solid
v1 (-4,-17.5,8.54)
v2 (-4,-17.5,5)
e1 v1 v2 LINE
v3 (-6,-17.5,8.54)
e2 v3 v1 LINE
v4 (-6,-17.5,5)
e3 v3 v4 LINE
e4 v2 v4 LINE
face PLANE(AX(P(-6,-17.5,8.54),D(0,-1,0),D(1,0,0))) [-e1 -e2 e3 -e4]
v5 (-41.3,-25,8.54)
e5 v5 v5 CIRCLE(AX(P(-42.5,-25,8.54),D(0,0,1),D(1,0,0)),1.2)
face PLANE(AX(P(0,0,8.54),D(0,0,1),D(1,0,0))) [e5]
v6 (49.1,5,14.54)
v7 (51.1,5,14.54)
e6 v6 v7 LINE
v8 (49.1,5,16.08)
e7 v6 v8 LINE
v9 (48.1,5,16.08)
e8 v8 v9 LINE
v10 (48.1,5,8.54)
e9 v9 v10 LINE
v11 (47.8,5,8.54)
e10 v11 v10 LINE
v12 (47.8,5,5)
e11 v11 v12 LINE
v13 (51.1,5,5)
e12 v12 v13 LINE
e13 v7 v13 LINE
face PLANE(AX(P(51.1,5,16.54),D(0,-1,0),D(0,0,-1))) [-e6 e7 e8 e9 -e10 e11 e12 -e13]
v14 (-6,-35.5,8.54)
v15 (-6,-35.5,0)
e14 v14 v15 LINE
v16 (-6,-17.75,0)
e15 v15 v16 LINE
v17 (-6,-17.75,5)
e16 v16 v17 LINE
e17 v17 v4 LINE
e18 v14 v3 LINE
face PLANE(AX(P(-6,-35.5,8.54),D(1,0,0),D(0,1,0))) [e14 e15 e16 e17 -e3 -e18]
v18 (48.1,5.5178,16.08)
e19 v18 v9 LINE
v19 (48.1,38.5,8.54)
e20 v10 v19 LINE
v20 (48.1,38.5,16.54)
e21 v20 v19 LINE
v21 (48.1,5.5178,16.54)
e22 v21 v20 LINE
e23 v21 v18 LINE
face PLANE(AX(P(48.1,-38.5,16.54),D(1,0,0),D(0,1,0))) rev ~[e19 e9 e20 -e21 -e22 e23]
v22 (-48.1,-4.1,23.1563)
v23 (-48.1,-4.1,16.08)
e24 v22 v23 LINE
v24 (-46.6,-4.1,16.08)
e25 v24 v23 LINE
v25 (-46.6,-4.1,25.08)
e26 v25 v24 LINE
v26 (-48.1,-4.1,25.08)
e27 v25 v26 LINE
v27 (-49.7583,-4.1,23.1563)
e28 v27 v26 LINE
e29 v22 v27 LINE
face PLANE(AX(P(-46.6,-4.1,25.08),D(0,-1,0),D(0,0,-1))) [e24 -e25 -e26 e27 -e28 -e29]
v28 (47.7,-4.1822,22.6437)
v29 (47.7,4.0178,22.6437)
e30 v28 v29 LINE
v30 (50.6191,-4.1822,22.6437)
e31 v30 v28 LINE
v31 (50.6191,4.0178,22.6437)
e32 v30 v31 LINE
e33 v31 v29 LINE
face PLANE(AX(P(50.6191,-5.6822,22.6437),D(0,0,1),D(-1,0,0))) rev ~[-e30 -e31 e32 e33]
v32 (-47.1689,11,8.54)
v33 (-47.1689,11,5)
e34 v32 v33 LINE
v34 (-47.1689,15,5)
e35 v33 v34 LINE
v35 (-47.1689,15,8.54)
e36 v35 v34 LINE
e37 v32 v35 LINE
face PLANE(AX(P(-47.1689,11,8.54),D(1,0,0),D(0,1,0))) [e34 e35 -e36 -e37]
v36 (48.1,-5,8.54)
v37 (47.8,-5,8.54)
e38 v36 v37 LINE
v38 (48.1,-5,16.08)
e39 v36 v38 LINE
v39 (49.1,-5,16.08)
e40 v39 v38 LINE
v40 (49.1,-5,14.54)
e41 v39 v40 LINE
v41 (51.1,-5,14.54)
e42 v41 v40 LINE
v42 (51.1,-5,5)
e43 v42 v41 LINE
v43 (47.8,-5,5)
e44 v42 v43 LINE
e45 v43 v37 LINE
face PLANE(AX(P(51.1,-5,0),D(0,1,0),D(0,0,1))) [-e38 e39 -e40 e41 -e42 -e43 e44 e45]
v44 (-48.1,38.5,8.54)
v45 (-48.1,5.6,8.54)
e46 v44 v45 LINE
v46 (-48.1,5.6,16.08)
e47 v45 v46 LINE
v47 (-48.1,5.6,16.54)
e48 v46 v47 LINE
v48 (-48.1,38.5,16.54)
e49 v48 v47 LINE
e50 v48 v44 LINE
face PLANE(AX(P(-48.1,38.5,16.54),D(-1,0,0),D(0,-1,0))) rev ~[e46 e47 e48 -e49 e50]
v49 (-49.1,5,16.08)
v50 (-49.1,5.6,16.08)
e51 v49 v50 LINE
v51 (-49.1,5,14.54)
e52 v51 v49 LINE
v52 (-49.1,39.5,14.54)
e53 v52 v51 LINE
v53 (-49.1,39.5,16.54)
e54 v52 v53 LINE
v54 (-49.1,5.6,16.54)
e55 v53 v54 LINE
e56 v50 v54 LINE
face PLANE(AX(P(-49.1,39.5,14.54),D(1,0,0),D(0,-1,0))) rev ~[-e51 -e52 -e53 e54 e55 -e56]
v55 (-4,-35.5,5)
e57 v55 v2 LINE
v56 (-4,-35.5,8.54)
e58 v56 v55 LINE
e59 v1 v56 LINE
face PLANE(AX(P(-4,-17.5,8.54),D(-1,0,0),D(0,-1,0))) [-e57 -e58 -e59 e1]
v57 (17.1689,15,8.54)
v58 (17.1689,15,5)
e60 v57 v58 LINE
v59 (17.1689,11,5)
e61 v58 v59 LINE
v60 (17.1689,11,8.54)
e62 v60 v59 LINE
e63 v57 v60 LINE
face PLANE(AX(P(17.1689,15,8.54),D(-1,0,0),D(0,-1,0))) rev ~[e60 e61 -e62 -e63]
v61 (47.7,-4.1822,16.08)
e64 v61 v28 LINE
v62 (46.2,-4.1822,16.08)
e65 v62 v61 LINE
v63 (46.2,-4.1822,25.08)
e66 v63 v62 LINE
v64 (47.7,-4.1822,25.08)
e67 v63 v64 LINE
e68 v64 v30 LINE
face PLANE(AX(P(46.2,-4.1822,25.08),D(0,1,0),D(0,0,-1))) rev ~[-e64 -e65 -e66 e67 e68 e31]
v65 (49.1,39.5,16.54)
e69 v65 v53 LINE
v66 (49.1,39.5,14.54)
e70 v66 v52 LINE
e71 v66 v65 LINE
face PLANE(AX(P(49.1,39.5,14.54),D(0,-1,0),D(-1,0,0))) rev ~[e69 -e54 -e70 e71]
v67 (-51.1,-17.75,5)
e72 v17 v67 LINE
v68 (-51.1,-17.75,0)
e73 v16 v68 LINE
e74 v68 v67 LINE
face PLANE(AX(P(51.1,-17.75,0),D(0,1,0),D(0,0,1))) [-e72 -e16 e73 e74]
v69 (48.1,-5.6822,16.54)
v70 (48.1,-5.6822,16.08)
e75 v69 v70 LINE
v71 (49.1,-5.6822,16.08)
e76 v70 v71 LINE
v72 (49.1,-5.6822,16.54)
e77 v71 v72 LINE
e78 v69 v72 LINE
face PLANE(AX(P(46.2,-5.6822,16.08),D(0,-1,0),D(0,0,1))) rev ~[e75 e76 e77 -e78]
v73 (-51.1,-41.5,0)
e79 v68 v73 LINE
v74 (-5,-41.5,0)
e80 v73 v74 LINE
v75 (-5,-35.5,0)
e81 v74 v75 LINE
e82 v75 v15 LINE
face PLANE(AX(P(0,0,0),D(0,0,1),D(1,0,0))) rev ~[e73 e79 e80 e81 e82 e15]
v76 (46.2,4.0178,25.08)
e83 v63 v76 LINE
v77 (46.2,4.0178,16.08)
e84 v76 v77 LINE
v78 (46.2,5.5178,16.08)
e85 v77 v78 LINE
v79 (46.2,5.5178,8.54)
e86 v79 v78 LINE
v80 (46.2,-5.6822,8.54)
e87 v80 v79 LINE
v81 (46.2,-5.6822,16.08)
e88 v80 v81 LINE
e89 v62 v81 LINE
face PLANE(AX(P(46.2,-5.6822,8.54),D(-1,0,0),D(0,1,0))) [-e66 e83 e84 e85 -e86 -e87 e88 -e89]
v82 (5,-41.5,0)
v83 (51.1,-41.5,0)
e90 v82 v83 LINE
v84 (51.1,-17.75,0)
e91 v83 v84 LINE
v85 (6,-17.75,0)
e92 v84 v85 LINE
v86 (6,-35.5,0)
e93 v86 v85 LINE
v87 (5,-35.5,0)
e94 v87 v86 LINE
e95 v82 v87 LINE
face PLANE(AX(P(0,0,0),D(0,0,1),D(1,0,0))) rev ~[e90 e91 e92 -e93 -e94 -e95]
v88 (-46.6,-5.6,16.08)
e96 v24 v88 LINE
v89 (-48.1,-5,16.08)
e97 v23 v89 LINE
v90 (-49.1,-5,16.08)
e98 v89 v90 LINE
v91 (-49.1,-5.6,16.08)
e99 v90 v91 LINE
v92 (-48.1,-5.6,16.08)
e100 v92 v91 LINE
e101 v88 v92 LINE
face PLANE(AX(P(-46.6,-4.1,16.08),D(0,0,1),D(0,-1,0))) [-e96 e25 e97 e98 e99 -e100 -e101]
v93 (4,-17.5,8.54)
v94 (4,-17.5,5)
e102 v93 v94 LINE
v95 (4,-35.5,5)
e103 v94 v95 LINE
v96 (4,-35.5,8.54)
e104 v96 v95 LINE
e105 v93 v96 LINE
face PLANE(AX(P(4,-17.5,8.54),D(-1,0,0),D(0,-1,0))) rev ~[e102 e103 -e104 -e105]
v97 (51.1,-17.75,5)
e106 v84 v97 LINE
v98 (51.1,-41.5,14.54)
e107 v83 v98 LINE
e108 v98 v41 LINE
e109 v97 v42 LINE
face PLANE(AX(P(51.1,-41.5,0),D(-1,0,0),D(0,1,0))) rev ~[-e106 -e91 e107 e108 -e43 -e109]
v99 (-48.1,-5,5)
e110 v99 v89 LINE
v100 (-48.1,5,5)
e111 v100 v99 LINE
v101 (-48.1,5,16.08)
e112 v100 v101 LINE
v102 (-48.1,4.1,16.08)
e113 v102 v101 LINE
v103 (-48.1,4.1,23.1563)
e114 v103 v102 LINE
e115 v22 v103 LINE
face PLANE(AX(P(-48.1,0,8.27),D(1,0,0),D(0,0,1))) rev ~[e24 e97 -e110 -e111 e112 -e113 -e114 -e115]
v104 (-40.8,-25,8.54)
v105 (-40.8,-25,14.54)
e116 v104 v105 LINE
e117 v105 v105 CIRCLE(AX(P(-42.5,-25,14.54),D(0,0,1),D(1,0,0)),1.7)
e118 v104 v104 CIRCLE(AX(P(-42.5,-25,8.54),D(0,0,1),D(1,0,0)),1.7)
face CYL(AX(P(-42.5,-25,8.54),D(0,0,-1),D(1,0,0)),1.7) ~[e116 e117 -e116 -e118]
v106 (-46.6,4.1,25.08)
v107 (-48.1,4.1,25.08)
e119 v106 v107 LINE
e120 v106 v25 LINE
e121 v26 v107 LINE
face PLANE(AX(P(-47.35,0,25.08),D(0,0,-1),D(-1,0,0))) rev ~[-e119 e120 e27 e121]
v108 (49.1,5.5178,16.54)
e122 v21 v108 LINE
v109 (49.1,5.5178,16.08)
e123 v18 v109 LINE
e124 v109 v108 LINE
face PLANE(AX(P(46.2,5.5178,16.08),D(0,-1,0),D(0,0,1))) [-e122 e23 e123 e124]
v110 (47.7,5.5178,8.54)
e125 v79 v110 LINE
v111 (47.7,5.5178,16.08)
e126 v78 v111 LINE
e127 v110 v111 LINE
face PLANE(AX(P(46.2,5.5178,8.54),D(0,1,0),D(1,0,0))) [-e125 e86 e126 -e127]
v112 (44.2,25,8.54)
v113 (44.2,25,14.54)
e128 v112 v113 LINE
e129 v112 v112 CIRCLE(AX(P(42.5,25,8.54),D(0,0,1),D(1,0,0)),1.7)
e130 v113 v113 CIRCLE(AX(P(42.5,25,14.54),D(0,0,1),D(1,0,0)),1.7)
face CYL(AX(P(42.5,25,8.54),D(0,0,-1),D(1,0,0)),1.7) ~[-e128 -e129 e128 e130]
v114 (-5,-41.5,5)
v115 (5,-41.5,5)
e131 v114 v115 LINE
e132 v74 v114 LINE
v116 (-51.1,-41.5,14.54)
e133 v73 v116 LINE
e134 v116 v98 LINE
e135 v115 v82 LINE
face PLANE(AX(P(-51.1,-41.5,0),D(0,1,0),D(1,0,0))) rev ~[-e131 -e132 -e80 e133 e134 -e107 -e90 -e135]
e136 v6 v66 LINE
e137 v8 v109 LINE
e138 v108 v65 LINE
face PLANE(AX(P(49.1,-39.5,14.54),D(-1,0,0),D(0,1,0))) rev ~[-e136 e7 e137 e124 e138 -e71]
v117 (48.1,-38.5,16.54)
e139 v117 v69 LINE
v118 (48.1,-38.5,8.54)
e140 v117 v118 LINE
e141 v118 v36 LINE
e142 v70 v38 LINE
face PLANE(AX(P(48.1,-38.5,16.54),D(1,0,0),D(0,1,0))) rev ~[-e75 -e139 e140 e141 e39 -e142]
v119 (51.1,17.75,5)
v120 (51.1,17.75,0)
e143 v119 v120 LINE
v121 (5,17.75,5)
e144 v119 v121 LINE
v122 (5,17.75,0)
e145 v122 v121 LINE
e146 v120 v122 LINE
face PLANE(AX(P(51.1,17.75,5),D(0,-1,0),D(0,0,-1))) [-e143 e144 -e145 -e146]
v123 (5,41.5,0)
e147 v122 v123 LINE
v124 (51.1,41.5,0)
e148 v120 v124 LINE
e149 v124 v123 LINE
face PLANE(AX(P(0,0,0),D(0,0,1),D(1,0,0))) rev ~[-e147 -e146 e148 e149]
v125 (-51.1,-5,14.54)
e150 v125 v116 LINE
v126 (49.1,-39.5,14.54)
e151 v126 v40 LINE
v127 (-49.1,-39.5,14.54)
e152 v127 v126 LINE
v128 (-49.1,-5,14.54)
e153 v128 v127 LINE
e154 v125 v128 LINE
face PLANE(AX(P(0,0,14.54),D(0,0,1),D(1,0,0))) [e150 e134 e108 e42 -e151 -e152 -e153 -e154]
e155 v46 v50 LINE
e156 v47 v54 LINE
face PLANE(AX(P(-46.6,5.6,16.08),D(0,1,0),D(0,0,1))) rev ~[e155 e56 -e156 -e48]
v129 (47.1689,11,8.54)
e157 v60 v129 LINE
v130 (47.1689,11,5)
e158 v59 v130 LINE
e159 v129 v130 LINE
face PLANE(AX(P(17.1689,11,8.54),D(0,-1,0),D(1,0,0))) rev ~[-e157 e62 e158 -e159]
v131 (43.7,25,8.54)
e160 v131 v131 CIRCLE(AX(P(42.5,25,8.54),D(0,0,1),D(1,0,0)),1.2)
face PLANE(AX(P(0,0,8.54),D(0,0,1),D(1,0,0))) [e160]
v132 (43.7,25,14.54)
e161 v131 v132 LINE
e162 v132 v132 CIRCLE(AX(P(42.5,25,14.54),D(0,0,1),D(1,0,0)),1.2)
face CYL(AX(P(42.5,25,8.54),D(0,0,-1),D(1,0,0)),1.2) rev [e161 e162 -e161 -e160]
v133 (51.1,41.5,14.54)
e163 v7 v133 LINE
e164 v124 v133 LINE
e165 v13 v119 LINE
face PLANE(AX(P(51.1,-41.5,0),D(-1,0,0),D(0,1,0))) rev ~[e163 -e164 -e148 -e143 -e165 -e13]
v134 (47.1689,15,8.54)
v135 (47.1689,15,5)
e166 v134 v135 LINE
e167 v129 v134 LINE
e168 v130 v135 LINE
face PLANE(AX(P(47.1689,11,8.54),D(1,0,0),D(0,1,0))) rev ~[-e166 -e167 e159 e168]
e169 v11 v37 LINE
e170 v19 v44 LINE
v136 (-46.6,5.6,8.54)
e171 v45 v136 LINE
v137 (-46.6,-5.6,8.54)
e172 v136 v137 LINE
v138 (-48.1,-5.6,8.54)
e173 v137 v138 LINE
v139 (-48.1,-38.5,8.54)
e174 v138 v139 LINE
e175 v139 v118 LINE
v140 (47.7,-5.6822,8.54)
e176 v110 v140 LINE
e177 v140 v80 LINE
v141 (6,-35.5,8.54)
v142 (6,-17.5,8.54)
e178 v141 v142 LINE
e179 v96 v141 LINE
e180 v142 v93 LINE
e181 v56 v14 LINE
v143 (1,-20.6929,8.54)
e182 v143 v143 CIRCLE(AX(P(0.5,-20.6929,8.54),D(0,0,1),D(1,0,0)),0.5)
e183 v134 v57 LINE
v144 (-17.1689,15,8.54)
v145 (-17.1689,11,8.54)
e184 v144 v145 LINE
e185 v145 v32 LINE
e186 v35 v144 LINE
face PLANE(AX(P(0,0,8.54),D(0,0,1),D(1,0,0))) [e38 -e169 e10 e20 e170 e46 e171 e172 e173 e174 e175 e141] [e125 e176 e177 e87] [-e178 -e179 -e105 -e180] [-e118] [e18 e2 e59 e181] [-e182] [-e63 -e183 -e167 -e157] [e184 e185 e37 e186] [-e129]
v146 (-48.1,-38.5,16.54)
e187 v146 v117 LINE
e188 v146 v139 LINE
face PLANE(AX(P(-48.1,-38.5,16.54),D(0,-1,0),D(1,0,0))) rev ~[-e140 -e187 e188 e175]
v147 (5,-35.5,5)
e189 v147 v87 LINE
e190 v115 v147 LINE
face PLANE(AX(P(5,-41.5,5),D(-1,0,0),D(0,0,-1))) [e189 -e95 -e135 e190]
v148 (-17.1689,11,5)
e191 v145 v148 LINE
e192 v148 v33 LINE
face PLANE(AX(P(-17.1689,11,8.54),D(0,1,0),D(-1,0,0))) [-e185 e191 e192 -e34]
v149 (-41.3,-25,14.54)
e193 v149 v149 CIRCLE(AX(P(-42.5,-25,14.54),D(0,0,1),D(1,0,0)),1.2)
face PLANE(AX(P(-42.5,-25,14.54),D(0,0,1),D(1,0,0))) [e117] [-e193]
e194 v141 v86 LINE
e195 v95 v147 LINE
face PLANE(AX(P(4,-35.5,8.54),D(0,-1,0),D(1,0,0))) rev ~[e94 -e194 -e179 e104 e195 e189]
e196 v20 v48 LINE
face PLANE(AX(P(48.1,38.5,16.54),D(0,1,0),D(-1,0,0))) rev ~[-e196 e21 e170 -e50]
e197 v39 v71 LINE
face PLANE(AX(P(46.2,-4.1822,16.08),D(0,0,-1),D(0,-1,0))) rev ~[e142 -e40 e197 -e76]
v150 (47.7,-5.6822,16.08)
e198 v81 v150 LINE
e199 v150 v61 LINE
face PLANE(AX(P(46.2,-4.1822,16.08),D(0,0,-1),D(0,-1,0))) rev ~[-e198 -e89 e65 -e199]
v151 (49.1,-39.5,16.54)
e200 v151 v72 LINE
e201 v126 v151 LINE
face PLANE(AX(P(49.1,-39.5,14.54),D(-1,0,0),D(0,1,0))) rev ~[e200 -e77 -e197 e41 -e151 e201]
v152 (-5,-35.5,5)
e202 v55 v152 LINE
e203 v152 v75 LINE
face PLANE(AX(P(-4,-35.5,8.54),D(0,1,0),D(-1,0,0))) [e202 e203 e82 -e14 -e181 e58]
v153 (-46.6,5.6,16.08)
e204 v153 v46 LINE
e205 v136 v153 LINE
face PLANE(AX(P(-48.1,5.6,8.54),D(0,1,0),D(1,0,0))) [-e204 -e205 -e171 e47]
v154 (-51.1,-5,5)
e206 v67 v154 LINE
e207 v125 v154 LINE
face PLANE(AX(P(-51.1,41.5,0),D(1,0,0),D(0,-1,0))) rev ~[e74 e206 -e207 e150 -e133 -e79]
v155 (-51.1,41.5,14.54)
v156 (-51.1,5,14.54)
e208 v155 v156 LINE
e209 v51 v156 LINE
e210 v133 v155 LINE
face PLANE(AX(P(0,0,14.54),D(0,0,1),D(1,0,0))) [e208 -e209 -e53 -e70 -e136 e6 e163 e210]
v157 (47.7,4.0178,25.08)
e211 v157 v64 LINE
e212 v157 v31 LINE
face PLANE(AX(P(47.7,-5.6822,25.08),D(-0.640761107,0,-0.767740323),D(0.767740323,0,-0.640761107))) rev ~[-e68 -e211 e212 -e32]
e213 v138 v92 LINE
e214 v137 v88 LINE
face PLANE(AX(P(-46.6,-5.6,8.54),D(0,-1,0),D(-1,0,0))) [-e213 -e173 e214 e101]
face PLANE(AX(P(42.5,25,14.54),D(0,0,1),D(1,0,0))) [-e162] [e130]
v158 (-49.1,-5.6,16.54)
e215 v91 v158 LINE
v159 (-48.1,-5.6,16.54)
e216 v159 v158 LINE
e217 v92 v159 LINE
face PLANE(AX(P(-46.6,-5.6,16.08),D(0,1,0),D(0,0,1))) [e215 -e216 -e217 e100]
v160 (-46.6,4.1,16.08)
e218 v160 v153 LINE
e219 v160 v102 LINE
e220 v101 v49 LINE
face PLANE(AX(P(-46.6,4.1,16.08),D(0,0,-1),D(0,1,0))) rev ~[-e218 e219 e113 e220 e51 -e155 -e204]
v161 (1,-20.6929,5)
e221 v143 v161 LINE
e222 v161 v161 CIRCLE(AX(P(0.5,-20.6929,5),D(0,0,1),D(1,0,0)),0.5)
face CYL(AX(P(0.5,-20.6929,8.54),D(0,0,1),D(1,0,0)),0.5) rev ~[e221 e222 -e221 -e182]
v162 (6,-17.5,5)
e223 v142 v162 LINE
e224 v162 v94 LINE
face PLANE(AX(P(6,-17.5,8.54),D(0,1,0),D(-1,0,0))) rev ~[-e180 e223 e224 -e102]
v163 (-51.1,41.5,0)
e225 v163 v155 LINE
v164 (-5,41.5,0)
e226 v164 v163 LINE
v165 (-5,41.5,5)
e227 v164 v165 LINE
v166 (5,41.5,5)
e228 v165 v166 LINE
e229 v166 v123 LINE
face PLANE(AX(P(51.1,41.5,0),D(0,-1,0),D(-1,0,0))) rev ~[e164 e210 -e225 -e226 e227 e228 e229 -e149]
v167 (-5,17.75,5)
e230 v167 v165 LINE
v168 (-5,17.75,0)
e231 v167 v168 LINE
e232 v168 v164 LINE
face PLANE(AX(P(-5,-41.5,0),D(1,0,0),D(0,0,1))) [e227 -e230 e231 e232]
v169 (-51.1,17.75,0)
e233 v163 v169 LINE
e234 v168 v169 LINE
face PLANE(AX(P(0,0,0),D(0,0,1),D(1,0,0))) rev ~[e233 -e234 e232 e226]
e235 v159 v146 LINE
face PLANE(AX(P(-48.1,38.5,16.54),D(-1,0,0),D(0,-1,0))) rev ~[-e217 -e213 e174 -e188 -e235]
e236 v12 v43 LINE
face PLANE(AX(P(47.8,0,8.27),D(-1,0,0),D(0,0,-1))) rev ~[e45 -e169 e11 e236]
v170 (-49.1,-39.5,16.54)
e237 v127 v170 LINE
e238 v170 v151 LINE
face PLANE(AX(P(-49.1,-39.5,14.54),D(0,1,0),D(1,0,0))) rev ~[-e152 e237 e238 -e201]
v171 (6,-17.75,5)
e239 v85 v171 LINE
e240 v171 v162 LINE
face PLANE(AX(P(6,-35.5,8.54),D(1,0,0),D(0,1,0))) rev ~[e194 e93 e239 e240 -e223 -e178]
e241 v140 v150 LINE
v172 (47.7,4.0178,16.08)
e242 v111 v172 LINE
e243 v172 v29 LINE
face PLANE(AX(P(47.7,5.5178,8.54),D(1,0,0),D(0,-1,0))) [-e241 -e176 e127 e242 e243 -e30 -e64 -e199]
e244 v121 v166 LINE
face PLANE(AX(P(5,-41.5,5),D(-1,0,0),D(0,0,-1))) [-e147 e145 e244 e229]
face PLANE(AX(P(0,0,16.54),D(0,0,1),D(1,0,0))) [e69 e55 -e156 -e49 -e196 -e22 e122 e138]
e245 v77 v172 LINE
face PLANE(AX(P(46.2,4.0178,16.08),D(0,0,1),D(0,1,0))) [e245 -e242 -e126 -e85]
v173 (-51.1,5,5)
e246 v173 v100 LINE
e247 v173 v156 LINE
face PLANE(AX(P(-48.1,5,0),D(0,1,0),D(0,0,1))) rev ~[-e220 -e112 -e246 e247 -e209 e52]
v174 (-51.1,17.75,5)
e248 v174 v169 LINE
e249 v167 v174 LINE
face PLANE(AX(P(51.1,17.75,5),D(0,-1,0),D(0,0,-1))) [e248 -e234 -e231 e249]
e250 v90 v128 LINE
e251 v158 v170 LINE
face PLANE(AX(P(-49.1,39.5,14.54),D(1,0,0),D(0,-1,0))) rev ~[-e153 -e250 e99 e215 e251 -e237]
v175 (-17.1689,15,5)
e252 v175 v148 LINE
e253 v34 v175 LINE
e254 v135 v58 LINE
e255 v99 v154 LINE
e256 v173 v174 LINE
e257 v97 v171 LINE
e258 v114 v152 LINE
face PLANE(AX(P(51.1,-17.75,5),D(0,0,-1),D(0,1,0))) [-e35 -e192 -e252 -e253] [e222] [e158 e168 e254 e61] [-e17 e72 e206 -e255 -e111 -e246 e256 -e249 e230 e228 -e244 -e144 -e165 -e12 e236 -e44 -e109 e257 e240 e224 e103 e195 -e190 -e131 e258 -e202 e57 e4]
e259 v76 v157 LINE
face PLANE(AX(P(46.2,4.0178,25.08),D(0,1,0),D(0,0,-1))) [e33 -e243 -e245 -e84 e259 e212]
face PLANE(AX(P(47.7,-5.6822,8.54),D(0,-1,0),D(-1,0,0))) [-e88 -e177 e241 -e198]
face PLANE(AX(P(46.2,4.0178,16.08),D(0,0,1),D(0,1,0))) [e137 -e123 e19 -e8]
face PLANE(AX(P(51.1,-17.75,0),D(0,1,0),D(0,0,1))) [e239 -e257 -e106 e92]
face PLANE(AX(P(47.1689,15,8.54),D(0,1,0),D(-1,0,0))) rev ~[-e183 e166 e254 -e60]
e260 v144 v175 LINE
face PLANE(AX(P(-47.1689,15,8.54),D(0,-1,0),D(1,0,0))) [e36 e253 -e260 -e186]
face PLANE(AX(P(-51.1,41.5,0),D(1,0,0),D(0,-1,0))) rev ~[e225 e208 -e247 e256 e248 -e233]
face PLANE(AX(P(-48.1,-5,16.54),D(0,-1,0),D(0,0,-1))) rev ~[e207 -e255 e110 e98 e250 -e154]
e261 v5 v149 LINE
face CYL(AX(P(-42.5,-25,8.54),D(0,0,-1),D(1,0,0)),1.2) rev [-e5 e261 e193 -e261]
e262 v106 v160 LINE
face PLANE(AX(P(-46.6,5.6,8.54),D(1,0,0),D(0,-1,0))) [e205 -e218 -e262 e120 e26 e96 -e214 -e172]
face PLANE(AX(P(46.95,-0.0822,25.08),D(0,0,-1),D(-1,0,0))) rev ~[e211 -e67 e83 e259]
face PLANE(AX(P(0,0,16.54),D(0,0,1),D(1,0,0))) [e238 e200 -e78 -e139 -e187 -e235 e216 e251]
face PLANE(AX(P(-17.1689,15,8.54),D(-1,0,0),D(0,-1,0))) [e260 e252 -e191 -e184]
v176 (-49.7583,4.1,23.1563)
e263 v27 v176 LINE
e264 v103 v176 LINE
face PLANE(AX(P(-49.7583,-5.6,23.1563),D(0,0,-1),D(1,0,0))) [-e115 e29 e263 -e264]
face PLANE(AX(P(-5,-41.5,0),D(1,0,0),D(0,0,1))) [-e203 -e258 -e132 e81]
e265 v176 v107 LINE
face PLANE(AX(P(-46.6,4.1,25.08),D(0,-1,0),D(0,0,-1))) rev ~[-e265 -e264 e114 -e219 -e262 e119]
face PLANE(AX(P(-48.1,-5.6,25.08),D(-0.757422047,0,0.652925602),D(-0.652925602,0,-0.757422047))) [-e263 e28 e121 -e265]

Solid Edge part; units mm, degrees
sketch "Sketch1" plane through (0, 0, 0) normal (0, 0, 1) x (1, 0, 0)
  line L0 (51.1, -41.5) -> (51.1, 41.5)
  line L1 (51.1, 41.5) -> (-51.1, 41.5)
  line L2 (-51.1, 41.5) -> (-51.1, -41.5)
  line L3 (-51.1, -41.5) -> (51.1, -41.5)
extrude "Protrusion1" add sketch "Sketch1" along normal blind 14.54
sketch "Sketch2" plane through (0, 0, 14.54) normal (0, 0, 1) x (1, 0, 0)
  line L0 (49.1, -39.5) -> (49.1, 39.5)
  line L1 (49.1, 39.5) -> (-49.1, 39.5)
  line L2 (-49.1, 39.5) -> (-49.1, -39.5)
  line L3 (-49.1, -39.5) -> (49.1, -39.5)
extrude "ProtrusiónExtruida_2" add sketch "Sketch2" along normal blind 2
sketch "Sketch3" plane through (0, 0, 16.54) normal (0, 0, 1) x (1, 0, 0)
  line L0 (48.1, -38.5) -> (48.1, 38.5)
  line L1 (48.1, 38.5) -> (-48.1, 38.5)
  line L2 (-48.1, 38.5) -> (-48.1, -38.5)
  line L3 (-48.1, -38.5) -> (48.1, -38.5)
extrude "VaciadoExtruido_1" cut sketch "Sketch3" against normal blind 8
sketch "Sketch4" plane through (0, 0, 8.54) normal (0, 0, 1) x (1, 0, 0)
  circle A0 centre (42.5, 25) radius 1.7
  circle A1 centre (42.5, 25) radius 1.2
  circle A2 centre (-42.5, -25) radius 1.7
  circle A3 centre (-42.5, -25) radius 1.2
  dimension "D1" = 2.4
  dimension "D2" = 2.4
  dimension "D3" = 3.4
  dimension "D4" = 3.4
extrude "ProtrusiónExtruida_5" add sketch "Sketch4" along normal blind 6
sketch "Sketch5" plane through (0, 0, 8.54) normal (0, 0, 1) x (1, 0, 0)
  line L0 (-6, -35.5) -> (-6, -17.5)
  line L1 (-6, -17.5) -> (-4, -17.5)
  line L2 (-4, -17.5) -> (-4, -35.5)
  line L3 (-4, -35.5) -> (-6, -35.5)
  line L4 (6, -35.5) -> (6, -17.5)
  line L5 (6, -17.5) -> (4, -17.5)
  line L6 (4, -17.5) -> (4, -35.5)
  line L7 (4, -35.5) -> (6, -35.5)
  dimension "D1" = 2
  dimension "D2" = 3
  dimension "D3" = 18
extrude "VaciadoExtruido_3" cut sketch "Sketch5" against normal blind 60
sketch "Sketch6" plane through (0, 0, 8.54) normal (0, 0, 1) x (1, 0, 0)
  circle A0 centre (0.5, -20.6929) radius 0.5
extrude "VaciadoExtruido_4" cut sketch "Sketch6" against normal blind 60
sketch "Sketch7" plane through (0, 0, 8.54) normal (0, 0, 1) x (1, 0, 0)
  line L0 (47.1689, 15) -> (17.1689, 15)
  line L1 (17.1689, 15) -> (17.1689, 11)
  line L2 (17.1689, 11) -> (47.1689, 11)
  line L3 (47.1689, 11) -> (47.1689, 15)
  line L4 (-47.1689, 15) -> (-17.1689, 15)
  line L5 (-17.1689, 15) -> (-17.1689, 11)
  line L6 (-17.1689, 11) -> (-47.1689, 11)
  line L7 (-47.1689, 11) -> (-47.1689, 15)
  dimension "D1" = 4
  dimension "D2" = 30
extrude "VaciadoExtruido_5" cut sketch "Sketch7" against normal blind 61.0922
sketch "Sketch8" plane through (51.1, 0, 7.27) normal (1, 0, 0) x (0, 1, 0)
  line L0 (5, 9.27) -> (5, -7.27)
  line L1 (5, -7.27) -> (-5, -7.27)
  line L2 (-5, -7.27) -> (-5, 9.27)
  line L3 (-5, 9.27) -> (5, 9.27)
extrude "VaciadoExtruido_7" cut sketch "Sketch8" against normal blind 3.3
sketch "Sketch9" plane through (0, 0, 8.54) normal (0, 0, 1) x (1, 0, 0)
  line L0 (47.7, 5.5178) -> (47.7, -5.6822)
  line L1 (47.7, -5.6822) -> (46.2, -5.6822)
  line L2 (46.2, -5.6822) -> (46.2, 5.5178)
  line L3 (46.2, 5.5178) -> (47.7, 5.5178)
extrude "ProtrusiónExtruida_6" add sketch "Sketch9" along normal blind 16.54
sketch "Sketch10" plane through (46.95, -5.6822, 16.81) normal (0, -1, 0) x (0, 0, -1)
  line L0 (-8.27, 0.75) -> (-5.8337, 3.6691)
  line L1 (-5.8337, 3.6691) -> (-5.8337, 0.75)
  line L2 (-5.8337, 0.75) -> (-8.27, 0.75)
extrude "ProtrusiónExtruida_8" add sketch "Sketch10" against normal blind 11.2
sketch "Sketch11" plane through (46.2, -0.0822, 16.81) normal (-1, 0, 0) x (0, -1, 0)
  line L0 (5.6, -0.73) -> (5.6, 8.27)
  line L1 (5.6, 8.27) -> (4.1, 8.27)
  line L2 (4.1, 8.27) -> (4.1, -0.73)
  line L3 (4.1, -0.73) -> (5.6, -0.73)
  line L4 (-4.1, 8.27) -> (-4.1, -0.73)
  line L5 (-4.1, -0.73) -> (-5.6, -0.73)
  line L6 (-5.6, -0.73) -> (-5.6, 8.27)
  line L7 (-5.6, 8.27) -> (-4.1, 8.27)
extrude "Cutout1" cut sketch "Sketch11" against normal blind 34.3591
sketch "Sketch12" plane through (0, -41.5, 7.27) normal (0, -1, 0) x (1, 0, 0)
  line L0 (-5, -7.27) -> (-5, -2.27)
  line L1 (-5, -2.27) -> (5, -2.27)
  line L2 (5, -2.27) -> (5, -7.27)
  line L3 (5, -7.27) -> (-5, -7.27)
extrude "VaciadoExtruido_18" cut sketch "Sketch12" against normal blind 10000
sketch "Sketch13" plane through (51.1, 23.25, 7.27) normal (1, 0, 0) x (0, 1, 0)
  line L0 (-5.5, -2.27) -> (-5.5, -7.27)
  line L1 (-5.5, -7.27) -> (-41, -7.27)
  line L2 (-41, -7.27) -> (-41, -2.27)
  line L3 (-41, -2.27) -> (-5.5, -2.27)
extrude "Cutout2" cut sketch "Sketch13" against normal blind 100000
sketch "Sketch14" plane through (-48.1, 0, 12.54) normal (1, 0, 0) x (0, 1, 0)
  line L0 (5, -12.54) -> (5, 4)
  line L1 (5, 4) -> (-5, 4)
  line L2 (-5, 4) -> (-5, -12.54)
  line L3 (-5, -12.54) -> (5, -12.54)
extrude "Cutout3" cut sketch "Sketch14" against normal blind 3.3
sketch "Sketch15" plane through (0, 0, 8.54) normal (0, 0, 1) x (0, 1, 0)
  line L0 (5.6, 46.6) -> (-5.6, 46.6)
  line L1 (-5.6, 46.6) -> (-5.6, 48.1)
  line L2 (-5.6, 48.1) -> (5.6, 48.1)
  line L3 (5.6, 48.1) -> (5.6, 46.6)
extrude "ProtrusiónExtruida_9" add sketch "Sketch15" along normal blind 16.54
sketch "Sketch16" plane through (-47.35, -5.6, 16.81) normal (0, -1, 0) x (0, 0, 1)
  line L0 (8.27, 0.75) -> (6.3463, 2.4083)
  line L1 (6.3463, 2.4083) -> (6.3463, 0.75)
  line L2 (6.3463, 0.75) -> (8.27, 0.75)
extrude "Protrusion2" add sketch "Sketch16" against normal up to vertex (11.2 mm away)
sketch "Sketch17" plane through (-46.6, 0, 16.81) normal (1, 0, 0) x (0, 1, 0)
  line L0 (-4.1, 8.27) -> (-4.1, -0.73)
  line L1 (-4.1, -0.73) -> (-5.6, -0.73)
  line L2 (-5.6, -0.73) -> (-5.6, 8.27)
  line L3 (-5.6, 8.27) -> (-4.1, 8.27)
  line L4 (4.1, 8.27) -> (4.1, -0.73)
  line L5 (4.1, -0.73) -> (5.6, -0.73)
  line L6 (5.6, -0.73) -> (5.6, 8.27)
  line L7 (5.6, 8.27) -> (4.1, 8.27)
extrude "Cutout4" cut sketch "Sketch17" against normal blind 20988
